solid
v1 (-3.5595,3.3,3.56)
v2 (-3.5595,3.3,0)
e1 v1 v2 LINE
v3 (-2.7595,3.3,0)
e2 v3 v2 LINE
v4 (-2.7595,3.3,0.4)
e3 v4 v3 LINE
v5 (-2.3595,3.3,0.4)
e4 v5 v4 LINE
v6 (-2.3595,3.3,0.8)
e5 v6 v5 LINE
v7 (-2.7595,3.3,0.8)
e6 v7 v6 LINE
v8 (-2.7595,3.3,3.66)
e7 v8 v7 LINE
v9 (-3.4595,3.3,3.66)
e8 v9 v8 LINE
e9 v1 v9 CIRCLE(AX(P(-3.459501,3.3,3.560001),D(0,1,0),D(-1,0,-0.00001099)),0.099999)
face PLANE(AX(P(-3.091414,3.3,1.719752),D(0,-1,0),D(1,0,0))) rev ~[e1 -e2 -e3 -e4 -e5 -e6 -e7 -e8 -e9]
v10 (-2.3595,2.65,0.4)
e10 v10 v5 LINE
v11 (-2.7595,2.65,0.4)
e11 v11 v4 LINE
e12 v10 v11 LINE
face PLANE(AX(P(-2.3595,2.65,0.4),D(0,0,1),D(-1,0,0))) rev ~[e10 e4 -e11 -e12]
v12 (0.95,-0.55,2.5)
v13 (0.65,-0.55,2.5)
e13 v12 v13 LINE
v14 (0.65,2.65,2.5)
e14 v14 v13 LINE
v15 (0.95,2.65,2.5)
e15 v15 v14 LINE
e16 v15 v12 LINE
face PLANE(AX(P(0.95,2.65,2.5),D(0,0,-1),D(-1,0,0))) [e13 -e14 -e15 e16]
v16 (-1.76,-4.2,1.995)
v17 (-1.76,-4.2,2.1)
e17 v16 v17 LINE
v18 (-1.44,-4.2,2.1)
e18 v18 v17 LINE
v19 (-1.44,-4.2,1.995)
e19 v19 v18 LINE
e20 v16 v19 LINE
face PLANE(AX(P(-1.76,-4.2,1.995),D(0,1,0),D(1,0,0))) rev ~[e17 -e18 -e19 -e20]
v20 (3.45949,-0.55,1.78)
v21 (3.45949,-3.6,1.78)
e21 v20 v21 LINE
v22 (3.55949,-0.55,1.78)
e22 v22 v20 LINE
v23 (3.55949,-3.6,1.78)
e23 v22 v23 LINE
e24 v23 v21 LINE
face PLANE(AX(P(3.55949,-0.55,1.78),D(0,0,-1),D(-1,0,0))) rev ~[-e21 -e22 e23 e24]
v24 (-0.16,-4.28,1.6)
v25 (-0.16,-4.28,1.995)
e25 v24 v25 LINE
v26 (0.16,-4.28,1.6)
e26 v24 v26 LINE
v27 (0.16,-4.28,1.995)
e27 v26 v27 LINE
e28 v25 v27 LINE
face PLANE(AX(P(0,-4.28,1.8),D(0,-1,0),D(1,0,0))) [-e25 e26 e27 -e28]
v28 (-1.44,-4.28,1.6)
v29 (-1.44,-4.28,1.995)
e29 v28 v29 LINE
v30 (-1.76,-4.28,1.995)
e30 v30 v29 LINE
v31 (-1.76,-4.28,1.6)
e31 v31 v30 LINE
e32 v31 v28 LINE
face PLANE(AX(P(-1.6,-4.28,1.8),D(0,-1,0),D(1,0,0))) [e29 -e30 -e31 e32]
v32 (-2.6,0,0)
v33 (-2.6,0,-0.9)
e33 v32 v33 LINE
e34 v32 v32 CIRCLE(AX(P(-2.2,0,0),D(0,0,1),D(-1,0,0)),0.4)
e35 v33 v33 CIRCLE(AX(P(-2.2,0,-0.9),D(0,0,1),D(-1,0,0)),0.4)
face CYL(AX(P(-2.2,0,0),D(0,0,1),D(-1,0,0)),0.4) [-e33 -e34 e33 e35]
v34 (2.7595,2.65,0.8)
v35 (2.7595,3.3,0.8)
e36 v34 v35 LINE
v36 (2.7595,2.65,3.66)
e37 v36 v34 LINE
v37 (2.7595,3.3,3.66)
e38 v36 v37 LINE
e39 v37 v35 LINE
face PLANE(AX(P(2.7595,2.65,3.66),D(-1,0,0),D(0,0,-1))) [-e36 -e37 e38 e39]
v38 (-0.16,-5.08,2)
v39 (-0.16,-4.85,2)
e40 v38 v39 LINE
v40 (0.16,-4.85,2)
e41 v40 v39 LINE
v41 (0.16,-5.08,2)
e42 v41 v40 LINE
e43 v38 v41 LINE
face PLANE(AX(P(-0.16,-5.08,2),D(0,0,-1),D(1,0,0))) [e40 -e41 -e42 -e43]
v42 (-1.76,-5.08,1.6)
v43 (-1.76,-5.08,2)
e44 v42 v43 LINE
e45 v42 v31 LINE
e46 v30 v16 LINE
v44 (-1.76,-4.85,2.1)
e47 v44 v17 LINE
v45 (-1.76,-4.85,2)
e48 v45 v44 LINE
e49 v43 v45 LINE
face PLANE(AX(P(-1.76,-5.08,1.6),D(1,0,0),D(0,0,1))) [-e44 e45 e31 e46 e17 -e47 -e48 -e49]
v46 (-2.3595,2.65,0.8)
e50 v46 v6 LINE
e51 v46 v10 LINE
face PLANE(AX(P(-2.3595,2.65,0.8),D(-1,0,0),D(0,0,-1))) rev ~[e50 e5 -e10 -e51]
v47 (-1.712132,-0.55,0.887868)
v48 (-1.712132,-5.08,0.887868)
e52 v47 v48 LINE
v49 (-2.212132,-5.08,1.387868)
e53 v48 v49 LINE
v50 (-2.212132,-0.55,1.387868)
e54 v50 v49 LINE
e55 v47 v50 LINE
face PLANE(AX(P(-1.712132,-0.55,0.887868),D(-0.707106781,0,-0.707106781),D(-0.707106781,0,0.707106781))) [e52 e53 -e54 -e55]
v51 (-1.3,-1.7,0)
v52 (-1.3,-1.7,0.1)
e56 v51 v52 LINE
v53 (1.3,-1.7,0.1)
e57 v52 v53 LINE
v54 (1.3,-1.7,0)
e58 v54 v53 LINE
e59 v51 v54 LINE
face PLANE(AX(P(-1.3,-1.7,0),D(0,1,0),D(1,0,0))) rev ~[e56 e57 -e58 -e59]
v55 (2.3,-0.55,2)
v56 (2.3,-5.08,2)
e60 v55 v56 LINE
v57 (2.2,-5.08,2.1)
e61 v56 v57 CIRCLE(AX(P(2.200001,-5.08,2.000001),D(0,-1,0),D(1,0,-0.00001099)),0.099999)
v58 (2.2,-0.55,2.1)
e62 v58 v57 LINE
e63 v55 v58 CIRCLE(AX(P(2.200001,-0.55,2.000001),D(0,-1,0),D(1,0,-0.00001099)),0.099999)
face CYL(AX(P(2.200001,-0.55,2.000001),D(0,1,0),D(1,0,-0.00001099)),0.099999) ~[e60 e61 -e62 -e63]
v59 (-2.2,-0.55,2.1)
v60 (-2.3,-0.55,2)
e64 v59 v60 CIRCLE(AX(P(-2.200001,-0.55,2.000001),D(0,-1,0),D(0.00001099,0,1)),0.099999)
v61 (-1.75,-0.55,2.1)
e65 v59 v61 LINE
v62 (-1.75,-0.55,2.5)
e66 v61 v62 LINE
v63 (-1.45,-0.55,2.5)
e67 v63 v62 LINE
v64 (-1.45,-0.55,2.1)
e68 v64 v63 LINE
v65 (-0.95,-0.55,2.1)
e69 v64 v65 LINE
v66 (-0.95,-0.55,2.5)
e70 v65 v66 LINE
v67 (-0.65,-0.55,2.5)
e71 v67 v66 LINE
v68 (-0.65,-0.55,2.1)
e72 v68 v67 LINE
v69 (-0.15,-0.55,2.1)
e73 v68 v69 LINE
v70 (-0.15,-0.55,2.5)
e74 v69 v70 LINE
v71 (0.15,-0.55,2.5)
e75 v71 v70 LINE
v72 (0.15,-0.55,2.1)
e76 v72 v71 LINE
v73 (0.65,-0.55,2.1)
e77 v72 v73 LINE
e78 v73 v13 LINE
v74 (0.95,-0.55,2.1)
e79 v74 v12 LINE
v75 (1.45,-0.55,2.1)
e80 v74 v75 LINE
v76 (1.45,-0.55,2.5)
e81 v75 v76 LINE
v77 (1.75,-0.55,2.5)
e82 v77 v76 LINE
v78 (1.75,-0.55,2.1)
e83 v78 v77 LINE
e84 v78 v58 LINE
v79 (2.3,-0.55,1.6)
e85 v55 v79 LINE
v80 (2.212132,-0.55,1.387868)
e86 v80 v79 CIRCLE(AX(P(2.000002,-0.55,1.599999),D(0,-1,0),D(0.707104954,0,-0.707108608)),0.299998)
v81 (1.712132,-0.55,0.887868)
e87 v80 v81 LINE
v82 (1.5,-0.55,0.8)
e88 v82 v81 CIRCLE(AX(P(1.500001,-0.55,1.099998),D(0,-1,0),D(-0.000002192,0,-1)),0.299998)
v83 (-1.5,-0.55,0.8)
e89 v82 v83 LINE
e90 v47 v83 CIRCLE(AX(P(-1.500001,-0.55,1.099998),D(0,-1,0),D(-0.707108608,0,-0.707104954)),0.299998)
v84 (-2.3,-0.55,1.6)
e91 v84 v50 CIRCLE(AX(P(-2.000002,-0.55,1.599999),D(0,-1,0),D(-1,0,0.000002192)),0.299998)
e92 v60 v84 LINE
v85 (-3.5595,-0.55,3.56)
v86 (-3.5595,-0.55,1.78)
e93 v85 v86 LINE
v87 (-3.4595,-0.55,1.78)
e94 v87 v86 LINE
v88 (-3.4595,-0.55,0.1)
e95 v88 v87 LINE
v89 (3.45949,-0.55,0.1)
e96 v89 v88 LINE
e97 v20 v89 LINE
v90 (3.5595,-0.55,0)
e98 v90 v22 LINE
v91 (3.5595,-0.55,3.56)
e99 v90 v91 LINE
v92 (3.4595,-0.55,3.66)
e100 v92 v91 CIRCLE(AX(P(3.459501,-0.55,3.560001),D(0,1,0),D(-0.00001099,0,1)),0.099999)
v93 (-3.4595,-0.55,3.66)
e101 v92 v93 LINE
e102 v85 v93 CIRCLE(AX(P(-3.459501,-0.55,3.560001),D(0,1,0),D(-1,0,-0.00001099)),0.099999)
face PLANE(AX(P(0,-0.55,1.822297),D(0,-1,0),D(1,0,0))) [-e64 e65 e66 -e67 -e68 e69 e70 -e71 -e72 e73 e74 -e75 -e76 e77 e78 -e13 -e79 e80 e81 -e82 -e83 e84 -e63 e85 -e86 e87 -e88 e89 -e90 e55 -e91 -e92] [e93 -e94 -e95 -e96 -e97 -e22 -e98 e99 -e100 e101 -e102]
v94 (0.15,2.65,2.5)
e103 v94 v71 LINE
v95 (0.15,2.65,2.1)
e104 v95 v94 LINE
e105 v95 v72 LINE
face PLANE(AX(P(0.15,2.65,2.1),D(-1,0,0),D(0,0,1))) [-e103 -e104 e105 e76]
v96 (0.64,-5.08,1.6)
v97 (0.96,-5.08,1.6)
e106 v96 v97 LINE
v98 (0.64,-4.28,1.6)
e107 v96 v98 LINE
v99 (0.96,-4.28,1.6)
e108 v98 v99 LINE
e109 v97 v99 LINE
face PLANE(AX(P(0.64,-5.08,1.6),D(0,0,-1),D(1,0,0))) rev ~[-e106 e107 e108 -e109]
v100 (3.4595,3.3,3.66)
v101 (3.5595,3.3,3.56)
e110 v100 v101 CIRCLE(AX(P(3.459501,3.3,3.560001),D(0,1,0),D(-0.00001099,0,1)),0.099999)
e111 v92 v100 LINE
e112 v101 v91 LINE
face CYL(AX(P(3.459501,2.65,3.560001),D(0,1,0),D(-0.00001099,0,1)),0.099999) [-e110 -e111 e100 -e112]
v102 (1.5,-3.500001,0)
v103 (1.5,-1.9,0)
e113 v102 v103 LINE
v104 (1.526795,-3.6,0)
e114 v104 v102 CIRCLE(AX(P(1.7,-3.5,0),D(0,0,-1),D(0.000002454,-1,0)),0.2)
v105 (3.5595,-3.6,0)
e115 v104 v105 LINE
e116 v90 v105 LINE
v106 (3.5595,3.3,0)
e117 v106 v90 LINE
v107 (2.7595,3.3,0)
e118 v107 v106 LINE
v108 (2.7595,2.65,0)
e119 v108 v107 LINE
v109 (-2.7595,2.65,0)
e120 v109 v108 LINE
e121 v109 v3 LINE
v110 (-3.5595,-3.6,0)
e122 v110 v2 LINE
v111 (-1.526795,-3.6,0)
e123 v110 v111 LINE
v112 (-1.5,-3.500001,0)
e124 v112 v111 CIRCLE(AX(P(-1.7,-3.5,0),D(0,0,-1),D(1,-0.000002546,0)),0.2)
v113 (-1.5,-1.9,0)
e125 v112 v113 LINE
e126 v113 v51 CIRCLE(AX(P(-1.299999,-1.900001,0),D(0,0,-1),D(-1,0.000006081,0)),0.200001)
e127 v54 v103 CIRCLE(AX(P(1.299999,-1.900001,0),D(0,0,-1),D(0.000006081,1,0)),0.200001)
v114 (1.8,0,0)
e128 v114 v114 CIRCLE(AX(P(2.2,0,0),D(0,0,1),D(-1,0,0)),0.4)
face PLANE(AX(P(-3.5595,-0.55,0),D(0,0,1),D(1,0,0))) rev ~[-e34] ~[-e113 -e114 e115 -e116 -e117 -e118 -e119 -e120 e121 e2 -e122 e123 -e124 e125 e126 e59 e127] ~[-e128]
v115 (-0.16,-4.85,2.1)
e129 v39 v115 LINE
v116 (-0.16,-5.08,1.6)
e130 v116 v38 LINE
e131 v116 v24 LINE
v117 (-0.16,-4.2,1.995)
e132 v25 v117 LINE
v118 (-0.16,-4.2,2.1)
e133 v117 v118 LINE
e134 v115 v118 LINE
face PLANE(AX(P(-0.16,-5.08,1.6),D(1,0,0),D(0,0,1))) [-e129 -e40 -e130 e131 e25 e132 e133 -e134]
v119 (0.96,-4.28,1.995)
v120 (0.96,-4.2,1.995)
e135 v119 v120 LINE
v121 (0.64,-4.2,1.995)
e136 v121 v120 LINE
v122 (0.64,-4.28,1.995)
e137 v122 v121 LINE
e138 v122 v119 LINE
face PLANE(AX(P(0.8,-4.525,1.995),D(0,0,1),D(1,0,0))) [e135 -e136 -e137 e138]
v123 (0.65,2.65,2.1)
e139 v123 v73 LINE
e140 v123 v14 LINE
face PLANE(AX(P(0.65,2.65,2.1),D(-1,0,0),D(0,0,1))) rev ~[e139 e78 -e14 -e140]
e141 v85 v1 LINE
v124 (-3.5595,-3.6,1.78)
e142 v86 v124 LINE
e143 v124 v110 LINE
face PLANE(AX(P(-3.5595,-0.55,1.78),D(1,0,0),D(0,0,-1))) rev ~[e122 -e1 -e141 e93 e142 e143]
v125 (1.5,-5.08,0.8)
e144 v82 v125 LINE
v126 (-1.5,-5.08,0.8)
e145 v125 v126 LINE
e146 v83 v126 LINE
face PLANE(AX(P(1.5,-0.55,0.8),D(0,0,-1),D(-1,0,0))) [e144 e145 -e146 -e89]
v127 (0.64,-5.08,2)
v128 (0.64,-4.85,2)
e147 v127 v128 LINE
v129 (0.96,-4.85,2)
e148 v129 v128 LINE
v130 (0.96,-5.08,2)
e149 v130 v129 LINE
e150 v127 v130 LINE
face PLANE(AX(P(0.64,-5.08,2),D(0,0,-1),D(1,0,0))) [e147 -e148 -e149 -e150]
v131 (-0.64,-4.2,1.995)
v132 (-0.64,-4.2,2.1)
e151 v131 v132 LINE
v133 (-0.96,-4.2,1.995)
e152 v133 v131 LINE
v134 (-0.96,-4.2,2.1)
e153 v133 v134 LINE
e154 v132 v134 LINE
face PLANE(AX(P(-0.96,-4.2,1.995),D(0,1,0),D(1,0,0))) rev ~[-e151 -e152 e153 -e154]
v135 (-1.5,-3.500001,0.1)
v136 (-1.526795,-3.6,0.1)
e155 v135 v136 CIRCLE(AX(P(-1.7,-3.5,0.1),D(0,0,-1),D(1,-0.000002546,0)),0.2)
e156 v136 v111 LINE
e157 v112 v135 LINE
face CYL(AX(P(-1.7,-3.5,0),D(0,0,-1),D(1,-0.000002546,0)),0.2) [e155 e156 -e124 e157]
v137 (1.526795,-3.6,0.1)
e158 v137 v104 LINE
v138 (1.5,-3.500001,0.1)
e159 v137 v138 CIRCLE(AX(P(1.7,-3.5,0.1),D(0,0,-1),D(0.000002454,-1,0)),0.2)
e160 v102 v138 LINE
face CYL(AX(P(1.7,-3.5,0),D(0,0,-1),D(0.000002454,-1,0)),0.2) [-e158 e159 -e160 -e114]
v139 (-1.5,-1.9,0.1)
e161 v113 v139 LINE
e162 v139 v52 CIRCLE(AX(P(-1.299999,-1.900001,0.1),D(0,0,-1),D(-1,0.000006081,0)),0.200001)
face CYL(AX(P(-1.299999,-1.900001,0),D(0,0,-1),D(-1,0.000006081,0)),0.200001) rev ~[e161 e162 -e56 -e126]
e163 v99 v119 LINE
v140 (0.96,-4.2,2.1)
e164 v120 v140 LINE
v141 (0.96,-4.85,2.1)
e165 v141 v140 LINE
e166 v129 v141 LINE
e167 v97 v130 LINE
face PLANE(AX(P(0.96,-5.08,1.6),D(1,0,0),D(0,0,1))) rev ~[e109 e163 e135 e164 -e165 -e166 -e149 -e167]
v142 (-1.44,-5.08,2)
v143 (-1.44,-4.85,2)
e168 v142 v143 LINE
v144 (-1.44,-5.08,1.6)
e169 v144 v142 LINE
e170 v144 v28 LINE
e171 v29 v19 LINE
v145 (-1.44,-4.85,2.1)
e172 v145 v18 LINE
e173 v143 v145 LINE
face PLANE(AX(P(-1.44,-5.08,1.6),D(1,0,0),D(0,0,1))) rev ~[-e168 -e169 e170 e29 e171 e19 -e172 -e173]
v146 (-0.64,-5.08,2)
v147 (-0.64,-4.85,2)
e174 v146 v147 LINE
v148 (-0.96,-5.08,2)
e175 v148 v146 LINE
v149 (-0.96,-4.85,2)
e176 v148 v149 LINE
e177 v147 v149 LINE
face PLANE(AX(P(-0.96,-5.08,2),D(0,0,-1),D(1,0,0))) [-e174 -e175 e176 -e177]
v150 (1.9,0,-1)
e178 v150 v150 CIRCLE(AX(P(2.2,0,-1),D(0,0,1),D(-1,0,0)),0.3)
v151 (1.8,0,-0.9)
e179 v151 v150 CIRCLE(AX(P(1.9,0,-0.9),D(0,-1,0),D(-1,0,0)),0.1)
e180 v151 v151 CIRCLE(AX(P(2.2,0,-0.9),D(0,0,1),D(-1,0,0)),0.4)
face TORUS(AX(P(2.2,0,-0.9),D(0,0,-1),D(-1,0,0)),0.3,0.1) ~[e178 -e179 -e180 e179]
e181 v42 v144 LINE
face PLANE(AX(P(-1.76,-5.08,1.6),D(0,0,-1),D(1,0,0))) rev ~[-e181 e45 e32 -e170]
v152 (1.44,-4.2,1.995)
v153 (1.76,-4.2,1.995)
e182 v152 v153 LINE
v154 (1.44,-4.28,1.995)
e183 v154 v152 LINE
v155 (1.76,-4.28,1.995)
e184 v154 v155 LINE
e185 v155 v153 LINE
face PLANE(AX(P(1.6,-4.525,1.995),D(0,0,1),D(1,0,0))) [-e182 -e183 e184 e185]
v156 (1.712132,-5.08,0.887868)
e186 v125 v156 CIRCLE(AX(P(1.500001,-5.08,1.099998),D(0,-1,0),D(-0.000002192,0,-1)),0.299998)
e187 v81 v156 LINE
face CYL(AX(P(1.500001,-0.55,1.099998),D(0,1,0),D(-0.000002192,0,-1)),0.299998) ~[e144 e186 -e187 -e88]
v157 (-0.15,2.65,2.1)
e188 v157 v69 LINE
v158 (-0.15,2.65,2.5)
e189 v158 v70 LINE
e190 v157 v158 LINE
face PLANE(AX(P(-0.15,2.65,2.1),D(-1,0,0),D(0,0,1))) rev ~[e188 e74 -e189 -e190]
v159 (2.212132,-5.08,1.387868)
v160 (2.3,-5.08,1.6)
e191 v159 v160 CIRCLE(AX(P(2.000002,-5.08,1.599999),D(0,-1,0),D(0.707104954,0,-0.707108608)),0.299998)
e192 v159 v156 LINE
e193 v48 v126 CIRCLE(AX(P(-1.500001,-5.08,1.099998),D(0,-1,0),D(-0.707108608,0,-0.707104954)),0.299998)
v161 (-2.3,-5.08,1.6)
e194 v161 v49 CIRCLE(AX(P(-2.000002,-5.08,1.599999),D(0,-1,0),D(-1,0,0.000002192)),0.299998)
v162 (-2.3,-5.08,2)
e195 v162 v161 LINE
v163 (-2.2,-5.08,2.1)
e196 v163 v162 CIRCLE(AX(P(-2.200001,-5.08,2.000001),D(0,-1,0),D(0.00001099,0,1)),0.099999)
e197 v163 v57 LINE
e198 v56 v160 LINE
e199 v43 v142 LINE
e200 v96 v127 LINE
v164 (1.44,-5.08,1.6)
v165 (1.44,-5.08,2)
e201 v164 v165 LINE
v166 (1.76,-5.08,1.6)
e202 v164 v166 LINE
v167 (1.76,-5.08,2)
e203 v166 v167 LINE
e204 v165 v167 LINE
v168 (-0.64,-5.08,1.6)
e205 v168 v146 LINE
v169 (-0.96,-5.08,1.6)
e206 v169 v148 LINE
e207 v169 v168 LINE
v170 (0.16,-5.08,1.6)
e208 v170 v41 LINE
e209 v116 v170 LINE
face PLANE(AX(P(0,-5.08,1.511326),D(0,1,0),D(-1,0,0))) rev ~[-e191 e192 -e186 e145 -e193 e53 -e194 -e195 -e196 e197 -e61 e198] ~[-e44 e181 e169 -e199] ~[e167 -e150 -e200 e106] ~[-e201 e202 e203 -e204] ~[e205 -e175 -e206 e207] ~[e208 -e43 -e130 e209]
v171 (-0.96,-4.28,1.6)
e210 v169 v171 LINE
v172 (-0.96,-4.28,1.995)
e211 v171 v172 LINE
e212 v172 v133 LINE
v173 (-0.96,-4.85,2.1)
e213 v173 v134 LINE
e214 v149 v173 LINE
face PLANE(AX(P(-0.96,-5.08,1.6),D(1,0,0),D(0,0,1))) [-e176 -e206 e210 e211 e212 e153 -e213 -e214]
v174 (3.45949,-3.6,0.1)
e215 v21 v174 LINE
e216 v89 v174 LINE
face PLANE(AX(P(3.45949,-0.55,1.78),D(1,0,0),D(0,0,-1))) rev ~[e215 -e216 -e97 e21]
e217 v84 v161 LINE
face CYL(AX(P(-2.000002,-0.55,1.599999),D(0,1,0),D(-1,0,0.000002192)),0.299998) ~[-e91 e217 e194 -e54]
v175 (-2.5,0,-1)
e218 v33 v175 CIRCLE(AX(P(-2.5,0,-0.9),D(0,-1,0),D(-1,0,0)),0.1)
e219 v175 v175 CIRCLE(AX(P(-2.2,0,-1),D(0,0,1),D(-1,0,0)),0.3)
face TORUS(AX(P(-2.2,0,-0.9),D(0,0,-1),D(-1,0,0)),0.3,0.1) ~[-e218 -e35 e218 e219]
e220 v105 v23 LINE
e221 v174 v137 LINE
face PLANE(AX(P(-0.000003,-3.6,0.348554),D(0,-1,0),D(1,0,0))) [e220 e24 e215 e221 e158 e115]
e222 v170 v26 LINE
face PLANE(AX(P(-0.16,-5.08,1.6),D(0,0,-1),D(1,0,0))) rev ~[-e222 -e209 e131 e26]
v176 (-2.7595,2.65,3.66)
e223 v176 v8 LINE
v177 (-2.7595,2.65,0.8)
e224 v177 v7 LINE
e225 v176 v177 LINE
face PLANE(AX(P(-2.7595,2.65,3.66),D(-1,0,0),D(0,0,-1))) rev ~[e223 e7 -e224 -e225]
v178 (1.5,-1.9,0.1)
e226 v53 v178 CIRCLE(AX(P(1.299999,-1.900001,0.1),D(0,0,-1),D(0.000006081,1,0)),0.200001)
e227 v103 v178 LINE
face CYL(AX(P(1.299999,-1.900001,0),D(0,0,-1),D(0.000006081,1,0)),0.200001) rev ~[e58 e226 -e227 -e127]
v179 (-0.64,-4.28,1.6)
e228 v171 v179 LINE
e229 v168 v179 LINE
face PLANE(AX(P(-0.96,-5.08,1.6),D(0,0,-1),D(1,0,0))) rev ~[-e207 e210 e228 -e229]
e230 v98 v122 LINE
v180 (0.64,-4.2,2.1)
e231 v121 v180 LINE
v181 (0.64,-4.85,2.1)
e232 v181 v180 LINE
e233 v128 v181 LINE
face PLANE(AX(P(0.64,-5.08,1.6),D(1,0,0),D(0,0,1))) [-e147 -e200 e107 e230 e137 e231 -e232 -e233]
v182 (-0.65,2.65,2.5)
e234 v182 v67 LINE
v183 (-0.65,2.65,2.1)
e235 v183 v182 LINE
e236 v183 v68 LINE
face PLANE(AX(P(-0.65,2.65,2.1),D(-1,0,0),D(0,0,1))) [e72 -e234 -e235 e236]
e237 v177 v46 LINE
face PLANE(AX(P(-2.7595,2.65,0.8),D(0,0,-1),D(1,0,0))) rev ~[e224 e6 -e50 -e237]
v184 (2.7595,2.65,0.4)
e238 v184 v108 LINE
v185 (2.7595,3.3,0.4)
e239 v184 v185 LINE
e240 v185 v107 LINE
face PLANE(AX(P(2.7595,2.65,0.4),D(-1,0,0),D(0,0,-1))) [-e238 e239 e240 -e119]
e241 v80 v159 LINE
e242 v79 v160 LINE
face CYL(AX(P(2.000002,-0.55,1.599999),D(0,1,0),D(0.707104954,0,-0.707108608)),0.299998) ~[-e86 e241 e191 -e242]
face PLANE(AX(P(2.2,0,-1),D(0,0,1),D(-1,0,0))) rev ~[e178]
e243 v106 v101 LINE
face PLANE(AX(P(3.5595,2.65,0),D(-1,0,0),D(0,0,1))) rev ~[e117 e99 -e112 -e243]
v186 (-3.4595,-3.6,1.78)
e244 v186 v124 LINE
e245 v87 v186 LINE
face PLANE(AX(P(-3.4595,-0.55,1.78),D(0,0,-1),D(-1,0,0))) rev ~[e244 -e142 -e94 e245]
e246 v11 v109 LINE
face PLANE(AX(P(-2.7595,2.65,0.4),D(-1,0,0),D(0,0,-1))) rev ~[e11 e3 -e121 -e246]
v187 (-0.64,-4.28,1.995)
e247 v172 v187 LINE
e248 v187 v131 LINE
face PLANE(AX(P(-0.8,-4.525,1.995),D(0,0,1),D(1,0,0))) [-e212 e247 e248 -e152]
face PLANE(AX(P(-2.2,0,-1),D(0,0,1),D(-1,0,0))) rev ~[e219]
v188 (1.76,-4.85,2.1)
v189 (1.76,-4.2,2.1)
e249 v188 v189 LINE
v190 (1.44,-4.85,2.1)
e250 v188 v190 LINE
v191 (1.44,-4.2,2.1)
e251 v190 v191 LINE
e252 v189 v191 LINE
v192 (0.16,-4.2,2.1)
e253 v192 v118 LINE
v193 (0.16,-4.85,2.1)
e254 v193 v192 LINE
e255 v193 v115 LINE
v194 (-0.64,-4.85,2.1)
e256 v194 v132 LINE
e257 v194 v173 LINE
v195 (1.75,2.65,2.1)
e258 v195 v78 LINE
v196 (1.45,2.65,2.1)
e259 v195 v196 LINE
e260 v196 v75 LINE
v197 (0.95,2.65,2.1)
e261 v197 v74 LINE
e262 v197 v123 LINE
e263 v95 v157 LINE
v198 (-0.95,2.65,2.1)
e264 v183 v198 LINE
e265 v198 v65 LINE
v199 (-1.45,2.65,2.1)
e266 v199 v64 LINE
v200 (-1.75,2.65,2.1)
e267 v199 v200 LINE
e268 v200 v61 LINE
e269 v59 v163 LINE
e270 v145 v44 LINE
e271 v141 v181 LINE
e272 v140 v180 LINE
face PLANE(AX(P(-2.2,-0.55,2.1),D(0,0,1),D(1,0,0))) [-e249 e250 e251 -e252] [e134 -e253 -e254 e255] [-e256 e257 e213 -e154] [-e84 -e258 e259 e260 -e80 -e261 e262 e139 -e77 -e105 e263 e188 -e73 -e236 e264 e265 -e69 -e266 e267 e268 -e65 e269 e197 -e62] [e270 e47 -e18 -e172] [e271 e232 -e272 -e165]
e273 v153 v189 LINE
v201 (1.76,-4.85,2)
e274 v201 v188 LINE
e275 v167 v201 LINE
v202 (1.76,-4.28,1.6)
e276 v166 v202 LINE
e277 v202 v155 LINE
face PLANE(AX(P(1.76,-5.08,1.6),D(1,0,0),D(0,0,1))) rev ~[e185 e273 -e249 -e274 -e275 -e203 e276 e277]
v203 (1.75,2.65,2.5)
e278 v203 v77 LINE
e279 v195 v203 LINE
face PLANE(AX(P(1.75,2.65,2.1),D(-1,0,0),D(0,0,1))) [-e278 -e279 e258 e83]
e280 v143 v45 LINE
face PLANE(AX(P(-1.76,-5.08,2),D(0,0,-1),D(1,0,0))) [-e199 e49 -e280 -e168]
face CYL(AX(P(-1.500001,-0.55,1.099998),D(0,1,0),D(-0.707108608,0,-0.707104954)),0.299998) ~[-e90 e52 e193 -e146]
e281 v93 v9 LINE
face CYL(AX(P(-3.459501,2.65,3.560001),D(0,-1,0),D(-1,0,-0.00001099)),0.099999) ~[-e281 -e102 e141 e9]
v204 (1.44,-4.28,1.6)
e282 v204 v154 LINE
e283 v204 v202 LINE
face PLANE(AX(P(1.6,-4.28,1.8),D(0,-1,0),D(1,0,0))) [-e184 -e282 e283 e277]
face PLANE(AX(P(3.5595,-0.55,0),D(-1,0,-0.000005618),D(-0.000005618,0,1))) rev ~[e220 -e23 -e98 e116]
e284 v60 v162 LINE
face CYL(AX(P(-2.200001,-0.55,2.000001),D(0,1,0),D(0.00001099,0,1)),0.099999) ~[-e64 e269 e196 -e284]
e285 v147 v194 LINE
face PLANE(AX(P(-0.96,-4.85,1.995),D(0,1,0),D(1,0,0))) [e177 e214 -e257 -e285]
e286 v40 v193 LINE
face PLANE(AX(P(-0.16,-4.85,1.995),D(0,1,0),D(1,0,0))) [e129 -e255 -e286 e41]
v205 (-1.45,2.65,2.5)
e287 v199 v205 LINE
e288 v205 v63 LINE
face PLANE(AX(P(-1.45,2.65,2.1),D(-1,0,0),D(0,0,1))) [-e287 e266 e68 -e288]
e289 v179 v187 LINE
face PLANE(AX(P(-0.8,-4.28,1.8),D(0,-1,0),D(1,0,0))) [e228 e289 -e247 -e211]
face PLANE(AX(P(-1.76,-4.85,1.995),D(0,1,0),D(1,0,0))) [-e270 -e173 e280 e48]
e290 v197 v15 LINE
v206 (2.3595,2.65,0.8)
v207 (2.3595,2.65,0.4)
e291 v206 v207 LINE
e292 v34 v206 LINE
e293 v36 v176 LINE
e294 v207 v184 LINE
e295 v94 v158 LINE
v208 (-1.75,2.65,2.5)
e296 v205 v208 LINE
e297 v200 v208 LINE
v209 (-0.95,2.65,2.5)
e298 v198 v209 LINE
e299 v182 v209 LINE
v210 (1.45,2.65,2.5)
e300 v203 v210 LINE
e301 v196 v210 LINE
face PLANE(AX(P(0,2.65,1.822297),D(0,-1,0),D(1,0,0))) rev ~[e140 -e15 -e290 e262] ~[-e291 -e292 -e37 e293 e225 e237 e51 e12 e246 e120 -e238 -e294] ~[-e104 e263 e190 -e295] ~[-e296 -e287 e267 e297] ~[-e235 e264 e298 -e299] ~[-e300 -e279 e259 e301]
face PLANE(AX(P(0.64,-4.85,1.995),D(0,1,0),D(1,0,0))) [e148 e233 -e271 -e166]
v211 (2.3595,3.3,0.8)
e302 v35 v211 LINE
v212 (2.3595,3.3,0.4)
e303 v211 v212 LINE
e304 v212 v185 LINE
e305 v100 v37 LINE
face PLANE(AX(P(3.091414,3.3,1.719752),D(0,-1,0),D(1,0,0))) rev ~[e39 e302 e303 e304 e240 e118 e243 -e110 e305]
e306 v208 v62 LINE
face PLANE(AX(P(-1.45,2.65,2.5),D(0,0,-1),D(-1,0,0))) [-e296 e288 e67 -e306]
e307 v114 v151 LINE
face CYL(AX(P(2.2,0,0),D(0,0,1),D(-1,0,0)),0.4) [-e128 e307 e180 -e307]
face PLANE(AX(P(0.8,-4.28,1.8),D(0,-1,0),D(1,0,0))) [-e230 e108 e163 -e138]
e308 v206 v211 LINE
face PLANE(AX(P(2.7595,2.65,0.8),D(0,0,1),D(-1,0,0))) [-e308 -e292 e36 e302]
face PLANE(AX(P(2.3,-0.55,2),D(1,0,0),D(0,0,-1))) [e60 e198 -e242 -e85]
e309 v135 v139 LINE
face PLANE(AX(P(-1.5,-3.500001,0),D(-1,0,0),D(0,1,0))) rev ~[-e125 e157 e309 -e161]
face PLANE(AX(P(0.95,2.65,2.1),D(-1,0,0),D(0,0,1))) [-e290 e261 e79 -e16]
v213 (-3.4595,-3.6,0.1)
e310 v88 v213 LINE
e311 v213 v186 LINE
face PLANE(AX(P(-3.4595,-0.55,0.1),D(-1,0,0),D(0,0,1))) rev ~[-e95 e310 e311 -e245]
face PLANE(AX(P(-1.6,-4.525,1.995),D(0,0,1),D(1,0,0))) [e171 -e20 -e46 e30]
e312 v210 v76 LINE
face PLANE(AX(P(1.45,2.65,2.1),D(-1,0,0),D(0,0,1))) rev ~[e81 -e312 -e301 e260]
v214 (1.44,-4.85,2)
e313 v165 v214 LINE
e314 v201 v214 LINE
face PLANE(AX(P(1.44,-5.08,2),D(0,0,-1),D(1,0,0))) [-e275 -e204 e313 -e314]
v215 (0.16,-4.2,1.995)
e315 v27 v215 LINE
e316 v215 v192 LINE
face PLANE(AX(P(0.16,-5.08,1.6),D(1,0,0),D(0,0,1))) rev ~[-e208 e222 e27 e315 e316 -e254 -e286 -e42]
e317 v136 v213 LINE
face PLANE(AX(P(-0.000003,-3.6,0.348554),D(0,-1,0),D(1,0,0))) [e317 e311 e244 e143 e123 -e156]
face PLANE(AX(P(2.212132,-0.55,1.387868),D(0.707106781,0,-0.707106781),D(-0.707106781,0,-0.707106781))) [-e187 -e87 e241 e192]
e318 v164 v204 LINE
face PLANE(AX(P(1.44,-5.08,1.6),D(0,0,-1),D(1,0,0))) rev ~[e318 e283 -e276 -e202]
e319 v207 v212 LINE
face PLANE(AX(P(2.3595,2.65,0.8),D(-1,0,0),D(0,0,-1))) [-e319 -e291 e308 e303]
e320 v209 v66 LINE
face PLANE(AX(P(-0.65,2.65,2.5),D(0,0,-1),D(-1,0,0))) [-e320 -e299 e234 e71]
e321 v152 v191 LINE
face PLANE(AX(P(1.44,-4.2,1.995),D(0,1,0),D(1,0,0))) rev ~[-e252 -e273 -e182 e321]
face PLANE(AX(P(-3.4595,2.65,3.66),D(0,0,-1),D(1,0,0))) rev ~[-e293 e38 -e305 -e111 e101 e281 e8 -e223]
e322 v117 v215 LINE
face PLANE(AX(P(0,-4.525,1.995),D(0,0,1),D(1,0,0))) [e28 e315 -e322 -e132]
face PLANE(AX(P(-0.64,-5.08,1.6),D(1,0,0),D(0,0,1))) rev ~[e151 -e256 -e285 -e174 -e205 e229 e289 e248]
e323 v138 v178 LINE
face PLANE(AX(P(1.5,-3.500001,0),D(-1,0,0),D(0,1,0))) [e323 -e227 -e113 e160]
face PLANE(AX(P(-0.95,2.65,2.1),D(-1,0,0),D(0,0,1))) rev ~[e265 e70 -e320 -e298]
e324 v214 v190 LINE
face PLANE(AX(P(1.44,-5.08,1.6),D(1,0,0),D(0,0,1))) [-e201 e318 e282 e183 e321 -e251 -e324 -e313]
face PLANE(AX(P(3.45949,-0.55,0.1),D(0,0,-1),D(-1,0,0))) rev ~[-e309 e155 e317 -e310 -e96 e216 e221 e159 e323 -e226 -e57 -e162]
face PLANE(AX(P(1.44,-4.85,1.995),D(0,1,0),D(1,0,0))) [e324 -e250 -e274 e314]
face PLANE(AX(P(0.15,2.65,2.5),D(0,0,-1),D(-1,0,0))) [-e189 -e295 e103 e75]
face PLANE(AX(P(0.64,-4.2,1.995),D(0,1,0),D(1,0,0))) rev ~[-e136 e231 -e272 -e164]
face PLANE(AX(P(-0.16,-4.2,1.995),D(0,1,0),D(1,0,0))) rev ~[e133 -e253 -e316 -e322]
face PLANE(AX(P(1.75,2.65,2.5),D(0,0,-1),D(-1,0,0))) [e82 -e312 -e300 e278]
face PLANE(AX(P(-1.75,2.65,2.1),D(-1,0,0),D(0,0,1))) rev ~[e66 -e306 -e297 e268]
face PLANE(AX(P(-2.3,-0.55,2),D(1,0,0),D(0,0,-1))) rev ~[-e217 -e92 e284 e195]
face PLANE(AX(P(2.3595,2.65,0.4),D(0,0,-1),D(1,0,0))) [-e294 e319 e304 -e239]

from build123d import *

# Parameters (mm, degrees)
EXTRUDE_SKETCH038_DEPTH                          = 0.65
EXTRUDE_SKETCH038_ONTO_SKETCH038_ROLL_ANGLE      = 90
EXTRUDE_SKETCH038_ONTO_SKETCH038_PLACEMENT_ANGLE = 180
EXTRUDE_SKETCH032_DEPTH                          = 0.3
EXTRUDE_SKETCH037_DEPTH                          = 3.05
EXTRUDE_SKETCH037_ONTO_SKETCH037_ROLL_ANGLE      = 90
SKETCH042_R                                      = 0.4
EXTRUDE_SKETCH042_DEPTH                          = 1
FILLET002005006_R                                = 0.1
SKETCH040_AS_DRAWN_W                             = 0.32
SKETCH040_AS_DRAWN_H                             = 0.4
EXTRUDE_SKETCH040_DEPTH                          = 0.8
EXTRUDE_SKETCH040_ONTO_SKETCH040_ROLL_ANGLE      = 90
SKETCH041_W                                      = 0.32
SKETCH041_H                                      = 0.65
EXTRUDE_SKETCH041_DEPTH                          = 0.15
EXTRUDE_SKETCH036_DEPTH                          = 4.53
EXTRUDE_SKETCH036_ONTO_SKETCH036_ROLL_ANGLE      = 90
SKETCH035_AS_DRAWN_W                             = 0.3
SKETCH035_AS_DRAWN_H                             = 0.4
EXTRUDE_SKETCH035_DEPTH                          = 3.2
EXTRUDE_SKETCH035_ONTO_SKETCH035_ROLL_ANGLE      = 90
EXTRUDE_SKETCH035_ONTO_SKETCH035_PLACEMENT_ANGLE = 180


with BuildPart() as f_4_sketch015_extrude_d:
    # Sketch038 as drawn → Extrude_Sketch038 (new)
    with BuildSketch(Plane.XY):
        with BuildLine():
            Line((-3.5595, 0), (-3.5595, 3.56))
            ThreePointArc((-3.4595, 3.66), (-3.530211, 3.630711), (-3.5595, 3.56))
            Line((-3.4595, 3.66), (-2.7595, 3.66))
            Line((-2.7595, 3.66), (-2.7595, 0.8))
            Line((-2.7595, 0.8), (-2.3595, 0.8))
            Line((-2.3595, 0.8), (-2.3595, 0.4))
            Line((-2.3595, 0.4), (-2.7595, 0.4))
            Line((-2.7595, 0.4), (-2.7595, 0))
            Line((-2.7595, 0), (-3.5595, 0))
        make_face()
        with BuildLine():
            Line((3.5595, 3.56), (3.5595, 0))
            Line((2.7595, 0), (3.5595, 0))
            Line((2.7595, 0.4), (2.7595, 0))
            Line((2.3595, 0.4), (2.7595, 0.4))
            Line((2.3595, 0.8), (2.3595, 0.4))
            Line((2.7595, 0.8), (2.3595, 0.8))
            Line((2.7595, 3.66), (2.7595, 0.8))
            Line((3.4595, 3.66), (2.7595, 3.66))
            ThreePointArc((3.5595, 3.56), (3.530211, 3.630711), (3.4595, 3.66))
        make_face()
    extrude(amount=EXTRUDE_SKETCH038_DEPTH)


with BuildPart() as f_4_sketch015_extrude_d_1:
    # Extrude_Sketch038 onto Sketch038 roll: moved
    add(f_4_sketch015_extrude_d.part.rotate(Axis((0, 0, 0), (1, 0, 0)), EXTRUDE_SKETCH038_ONTO_SKETCH038_ROLL_ANGLE))


with BuildPart() as f_4_sketch015_extrude_d_2:
    # Extrude_Sketch038 onto Sketch038 placement: moved
    add(f_4_sketch015_extrude_d_1.part.moved(Location((0, 2.75, 0))).rotate(Axis((0, 2.75, 0), (0, 0, 1)), EXTRUDE_SKETCH038_ONTO_SKETCH038_PLACEMENT_ANGLE))


with BuildPart() as clone_of_12_sketch032_extrude:
    # Sketch032 → Extrude_Sketch032 (new body)
    with BuildSketch(Plane(origin=(0, 0, 0), x_dir=(1, 0, 0), z_dir=(0, 0, -1))):
        with BuildLine():
            Line((-1.7, 3.6), (1.7, 3.6))
            ThreePointArc((1.7, 3.6), (1.558579, 3.541422), (1.5, 3.400001))
            Line((1.5, 3.400001), (1.5, 1.8))
            ThreePointArc((1.3, 1.6), (1.441421, 1.658579), (1.5, 1.8))
            Line((-1.3, 1.6), (1.3, 1.6))
            ThreePointArc((-1.5, 1.8), (-1.441421, 1.658579), (-1.3, 1.6))
            Line((-1.5, 3.400001), (-1.5, 1.8))
            ThreePointArc((-1.5, 3.400001), (-1.558579, 3.541422), (-1.7, 3.6))
        make_face()
    extrude(amount=-EXTRUDE_SKETCH032_DEPTH)


with BuildPart() as f_3_cut003_c:
    # Sketch037 as drawn → Extrude_Sketch037 (new)
    with BuildSketch(Plane.XY):
        Polygon((-3.5595, 0), (3.5595, 0), (3.55949, 1.78), (3.45949, 1.78), (3.45949, 0.1), (-3.4595, 0.1), (-3.4595, 1.78), (-3.5595, 1.78), align=None)
    extrude(amount=EXTRUDE_SKETCH037_DEPTH)


with BuildPart() as f_3_cut003_c_1:
    # Extrude_Sketch037 onto Sketch037 roll: moved
    add(f_3_cut003_c.part.rotate(Axis((0, 0, 0), (1, 0, 0)), EXTRUDE_SKETCH037_ONTO_SKETCH037_ROLL_ANGLE))


with BuildPart() as f_3_cut003_c_2:
    # Extrude_Sketch037 onto Sketch037 placement: moved
    add(f_3_cut003_c_1.part.moved(Location((0, -0.45, 0))))

    # Cut003: cut Clone of 12.Sketch032_Extrude
    add(clone_of_12_sketch032_extrude.part, mode=Mode.SUBTRACT)


with BuildPart() as f_5_fillet002005006_e:
    # Sketch042 → Extrude_Sketch042 (new body)
    with BuildSketch(Plane(origin=(0, -0.1, 0), x_dir=(-1, 0, 0), z_dir=(0, 0, 1))):
        with Locations((2.2, -0.2)):
            Circle(SKETCH042_R)
        with Locations((-2.2, -0.2)):
            Circle(SKETCH042_R)
    extrude(amount=-EXTRUDE_SKETCH042_DEPTH)

    # Fillet002005006
    fillet002005006_edges = [f_5_fillet002005006_e.edges().sort_by_distance(p)[0] for p in [
        (2.6, 0.1, -1),
        (-1.8, 0.1, -1),
    ]]
    fillet(fillet002005006_edges, radius=FILLET002005006_R)


with BuildPart() as f_2_2_2_sketch040_extrude:
    # Sketch040 as drawn → Extrude_Sketch040 (new)
    with BuildSketch(Plane.XY):
        with Locations((-1.6, 1.8)):
            Rectangle(SKETCH040_AS_DRAWN_W, SKETCH040_AS_DRAWN_H)
        with Locations((-0.8, 1.8)):
            Rectangle(SKETCH040_AS_DRAWN_W, SKETCH040_AS_DRAWN_H)
        with Locations((0, 1.8)):
            Rectangle(SKETCH040_AS_DRAWN_W, SKETCH040_AS_DRAWN_H)
        with Locations((0.8, 1.8)):
            Rectangle(SKETCH040_AS_DRAWN_W, SKETCH040_AS_DRAWN_H)
        with Locations((1.6, 1.8)):
            Rectangle(SKETCH040_AS_DRAWN_W, SKETCH040_AS_DRAWN_H)
    extrude(amount=-EXTRUDE_SKETCH040_DEPTH)


with BuildPart() as f_2_2_2_sketch040_extrude_1:
    # Extrude_Sketch040 onto Sketch040 roll: moved
    add(f_2_2_2_sketch040_extrude.part.rotate(Axis((0, 0, 0), (1, 0, 0)), EXTRUDE_SKETCH040_ONTO_SKETCH040_ROLL_ANGLE))


with BuildPart() as f_2_2_2_sketch040_extrude_2:
    # Extrude_Sketch040 onto Sketch040 placement: moved
    add(f_2_2_2_sketch040_extrude_1.part.moved(Location((0, -4.98, 0))))


with BuildPart() as f_2_2_fusion009005_b:
    # Sketch041 → Extrude_Sketch041 (new body)
    with BuildSketch(Plane(origin=(0, -0.2, 1.995), x_dir=(1, 0, 0), z_dir=(0, 0, 1))):
        with Locations((-1.6, -4.225)):
            Rectangle(SKETCH041_W, SKETCH041_H)
        with Locations((-0.8, -4.225)):
            Rectangle(SKETCH041_W, SKETCH041_H)
        with Locations((0, -4.225)):
            Rectangle(SKETCH041_W, SKETCH041_H)
        with Locations((0.8, -4.225)):
            Rectangle(SKETCH041_W, SKETCH041_H)
        with Locations((1.6, -4.225)):
            Rectangle(SKETCH041_W, SKETCH041_H)
    extrude(amount=EXTRUDE_SKETCH041_DEPTH)

    # Fusion009005: union 2.2.2.Sketch040_Extrude
    add(f_2_2_2_sketch040_extrude_2.part)


with BuildPart() as f_2_cut004002_b:
    # Sketch036 as drawn → Extrude_Sketch036 (new)
    with BuildSketch(Plane.XY):
        with BuildLine():
            Line((-2.2, 2.1), (2.2, 2.1))
            ThreePointArc((2.3, 2), (2.270711, 2.070711), (2.2, 2.1))
            Line((2.3, 2), (2.3, 1.6))
            ThreePointArc((2.212132, 1.387868), (2.277164, 1.485195), (2.3, 1.6))
            Line((2.212132, 1.387868), (1.712132, 0.887868))
            ThreePointArc((1.5, 0.8), (1.614805, 0.822836), (1.712132, 0.887868))
            Line((1.5, 0.8), (-1.5, 0.8))
            ThreePointArc((-1.712132, 0.887868), (-1.614805, 0.822836), (-1.5, 0.8))
            Line((-1.712132, 0.887868), (-2.212132, 1.387868))
            ThreePointArc((-2.3, 1.6), (-2.277164, 1.485195), (-2.212132, 1.387868))
            Line((-2.3, 2), (-2.3, 1.6))
            ThreePointArc((-2.2, 2.1), (-2.270711, 2.070711), (-2.3, 2))
        make_face()
    extrude(amount=EXTRUDE_SKETCH036_DEPTH)


with BuildPart() as f_2_cut004002_b_1:
    # Extrude_Sketch036 onto Sketch036 roll: moved
    add(f_2_cut004002_b.part.rotate(Axis((0, 0, 0), (1, 0, 0)), EXTRUDE_SKETCH036_ONTO_SKETCH036_ROLL_ANGLE))


with BuildPart() as f_2_cut004002_b_2:
    # Extrude_Sketch036 onto Sketch036 placement: moved
    add(f_2_cut004002_b_1.part.moved(Location((0, -0.45, 0))))

    # Cut004002: cut 2.2.Fusion009005-B
    add(f_2_2_fusion009005_b.part, mode=Mode.SUBTRACT)


with BuildPart() as fusion009006:
    # Sketch035 as drawn → Extrude_Sketch035 (new)
    with BuildSketch(Plane.XY):
        with BuildLine():
            Line((3.5595, 0), (-3.5595, 0))
            Line((-3.5595, 0), (-3.5595, 3.56))
            ThreePointArc((-3.4595, 3.66), (-3.530211, 3.630711), (-3.5595, 3.56))
            Line((-3.4595, 3.66), (3.4595, 3.66))
            ThreePointArc((3.5595, 3.56), (3.530211, 3.630711), (3.4595, 3.66))
            Line((3.5595, 3.56), (3.5595, 0))
        make_face()
        with Locations((-1.6, 2.3)):
            Rectangle(SKETCH035_AS_DRAWN_W, SKETCH035_AS_DRAWN_H, mode=Mode.SUBTRACT)
        with Locations((-0.8, 2.3)):
            Rectangle(SKETCH035_AS_DRAWN_W, SKETCH035_AS_DRAWN_H, mode=Mode.SUBTRACT)
        with Locations((0, 2.3)):
            Rectangle(SKETCH035_AS_DRAWN_W, SKETCH035_AS_DRAWN_H, mode=Mode.SUBTRACT)
        with Locations((0.8, 2.3)):
            Rectangle(SKETCH035_AS_DRAWN_W, SKETCH035_AS_DRAWN_H, mode=Mode.SUBTRACT)
        with Locations((1.6, 2.3)):
            Rectangle(SKETCH035_AS_DRAWN_W, SKETCH035_AS_DRAWN_H, mode=Mode.SUBTRACT)
    extrude(amount=-EXTRUDE_SKETCH035_DEPTH)


with BuildPart() as fusion009006_1:
    # Extrude_Sketch035 onto Sketch035 roll: moved
    add(fusion009006.part.rotate(Axis((0, 0, 0), (1, 0, 0)), EXTRUDE_SKETCH035_ONTO_SKETCH035_ROLL_ANGLE))


with BuildPart() as fusion009006_2:
    # Extrude_Sketch035 onto Sketch035 placement: moved
    add(fusion009006_1.part.moved(Location((0, 2.75, 0))).rotate(Axis((0, 2.75, 0), (0, 0, 1)), EXTRUDE_SKETCH035_ONTO_SKETCH035_PLACEMENT_ANGLE))

    # Fusion009006: union 4..Sketch015_Extrude-D, 3.Cut003-C, 5.Fillet002005006-E, 2.Cut004002-B
    add(f_4_sketch015_extrude_d_2.part)
    add(f_3_cut003_c_2.part)
    add(f_5_fillet002005006_e.part)
    add(f_2_cut004002_b_2.part)


with BuildPart() as fusion009006_3:
    # Fusion009006 placement: moved
    add(fusion009006_2.part.moved(Location((0, -0.1, 0))))


solid = fusion009006_3.part
